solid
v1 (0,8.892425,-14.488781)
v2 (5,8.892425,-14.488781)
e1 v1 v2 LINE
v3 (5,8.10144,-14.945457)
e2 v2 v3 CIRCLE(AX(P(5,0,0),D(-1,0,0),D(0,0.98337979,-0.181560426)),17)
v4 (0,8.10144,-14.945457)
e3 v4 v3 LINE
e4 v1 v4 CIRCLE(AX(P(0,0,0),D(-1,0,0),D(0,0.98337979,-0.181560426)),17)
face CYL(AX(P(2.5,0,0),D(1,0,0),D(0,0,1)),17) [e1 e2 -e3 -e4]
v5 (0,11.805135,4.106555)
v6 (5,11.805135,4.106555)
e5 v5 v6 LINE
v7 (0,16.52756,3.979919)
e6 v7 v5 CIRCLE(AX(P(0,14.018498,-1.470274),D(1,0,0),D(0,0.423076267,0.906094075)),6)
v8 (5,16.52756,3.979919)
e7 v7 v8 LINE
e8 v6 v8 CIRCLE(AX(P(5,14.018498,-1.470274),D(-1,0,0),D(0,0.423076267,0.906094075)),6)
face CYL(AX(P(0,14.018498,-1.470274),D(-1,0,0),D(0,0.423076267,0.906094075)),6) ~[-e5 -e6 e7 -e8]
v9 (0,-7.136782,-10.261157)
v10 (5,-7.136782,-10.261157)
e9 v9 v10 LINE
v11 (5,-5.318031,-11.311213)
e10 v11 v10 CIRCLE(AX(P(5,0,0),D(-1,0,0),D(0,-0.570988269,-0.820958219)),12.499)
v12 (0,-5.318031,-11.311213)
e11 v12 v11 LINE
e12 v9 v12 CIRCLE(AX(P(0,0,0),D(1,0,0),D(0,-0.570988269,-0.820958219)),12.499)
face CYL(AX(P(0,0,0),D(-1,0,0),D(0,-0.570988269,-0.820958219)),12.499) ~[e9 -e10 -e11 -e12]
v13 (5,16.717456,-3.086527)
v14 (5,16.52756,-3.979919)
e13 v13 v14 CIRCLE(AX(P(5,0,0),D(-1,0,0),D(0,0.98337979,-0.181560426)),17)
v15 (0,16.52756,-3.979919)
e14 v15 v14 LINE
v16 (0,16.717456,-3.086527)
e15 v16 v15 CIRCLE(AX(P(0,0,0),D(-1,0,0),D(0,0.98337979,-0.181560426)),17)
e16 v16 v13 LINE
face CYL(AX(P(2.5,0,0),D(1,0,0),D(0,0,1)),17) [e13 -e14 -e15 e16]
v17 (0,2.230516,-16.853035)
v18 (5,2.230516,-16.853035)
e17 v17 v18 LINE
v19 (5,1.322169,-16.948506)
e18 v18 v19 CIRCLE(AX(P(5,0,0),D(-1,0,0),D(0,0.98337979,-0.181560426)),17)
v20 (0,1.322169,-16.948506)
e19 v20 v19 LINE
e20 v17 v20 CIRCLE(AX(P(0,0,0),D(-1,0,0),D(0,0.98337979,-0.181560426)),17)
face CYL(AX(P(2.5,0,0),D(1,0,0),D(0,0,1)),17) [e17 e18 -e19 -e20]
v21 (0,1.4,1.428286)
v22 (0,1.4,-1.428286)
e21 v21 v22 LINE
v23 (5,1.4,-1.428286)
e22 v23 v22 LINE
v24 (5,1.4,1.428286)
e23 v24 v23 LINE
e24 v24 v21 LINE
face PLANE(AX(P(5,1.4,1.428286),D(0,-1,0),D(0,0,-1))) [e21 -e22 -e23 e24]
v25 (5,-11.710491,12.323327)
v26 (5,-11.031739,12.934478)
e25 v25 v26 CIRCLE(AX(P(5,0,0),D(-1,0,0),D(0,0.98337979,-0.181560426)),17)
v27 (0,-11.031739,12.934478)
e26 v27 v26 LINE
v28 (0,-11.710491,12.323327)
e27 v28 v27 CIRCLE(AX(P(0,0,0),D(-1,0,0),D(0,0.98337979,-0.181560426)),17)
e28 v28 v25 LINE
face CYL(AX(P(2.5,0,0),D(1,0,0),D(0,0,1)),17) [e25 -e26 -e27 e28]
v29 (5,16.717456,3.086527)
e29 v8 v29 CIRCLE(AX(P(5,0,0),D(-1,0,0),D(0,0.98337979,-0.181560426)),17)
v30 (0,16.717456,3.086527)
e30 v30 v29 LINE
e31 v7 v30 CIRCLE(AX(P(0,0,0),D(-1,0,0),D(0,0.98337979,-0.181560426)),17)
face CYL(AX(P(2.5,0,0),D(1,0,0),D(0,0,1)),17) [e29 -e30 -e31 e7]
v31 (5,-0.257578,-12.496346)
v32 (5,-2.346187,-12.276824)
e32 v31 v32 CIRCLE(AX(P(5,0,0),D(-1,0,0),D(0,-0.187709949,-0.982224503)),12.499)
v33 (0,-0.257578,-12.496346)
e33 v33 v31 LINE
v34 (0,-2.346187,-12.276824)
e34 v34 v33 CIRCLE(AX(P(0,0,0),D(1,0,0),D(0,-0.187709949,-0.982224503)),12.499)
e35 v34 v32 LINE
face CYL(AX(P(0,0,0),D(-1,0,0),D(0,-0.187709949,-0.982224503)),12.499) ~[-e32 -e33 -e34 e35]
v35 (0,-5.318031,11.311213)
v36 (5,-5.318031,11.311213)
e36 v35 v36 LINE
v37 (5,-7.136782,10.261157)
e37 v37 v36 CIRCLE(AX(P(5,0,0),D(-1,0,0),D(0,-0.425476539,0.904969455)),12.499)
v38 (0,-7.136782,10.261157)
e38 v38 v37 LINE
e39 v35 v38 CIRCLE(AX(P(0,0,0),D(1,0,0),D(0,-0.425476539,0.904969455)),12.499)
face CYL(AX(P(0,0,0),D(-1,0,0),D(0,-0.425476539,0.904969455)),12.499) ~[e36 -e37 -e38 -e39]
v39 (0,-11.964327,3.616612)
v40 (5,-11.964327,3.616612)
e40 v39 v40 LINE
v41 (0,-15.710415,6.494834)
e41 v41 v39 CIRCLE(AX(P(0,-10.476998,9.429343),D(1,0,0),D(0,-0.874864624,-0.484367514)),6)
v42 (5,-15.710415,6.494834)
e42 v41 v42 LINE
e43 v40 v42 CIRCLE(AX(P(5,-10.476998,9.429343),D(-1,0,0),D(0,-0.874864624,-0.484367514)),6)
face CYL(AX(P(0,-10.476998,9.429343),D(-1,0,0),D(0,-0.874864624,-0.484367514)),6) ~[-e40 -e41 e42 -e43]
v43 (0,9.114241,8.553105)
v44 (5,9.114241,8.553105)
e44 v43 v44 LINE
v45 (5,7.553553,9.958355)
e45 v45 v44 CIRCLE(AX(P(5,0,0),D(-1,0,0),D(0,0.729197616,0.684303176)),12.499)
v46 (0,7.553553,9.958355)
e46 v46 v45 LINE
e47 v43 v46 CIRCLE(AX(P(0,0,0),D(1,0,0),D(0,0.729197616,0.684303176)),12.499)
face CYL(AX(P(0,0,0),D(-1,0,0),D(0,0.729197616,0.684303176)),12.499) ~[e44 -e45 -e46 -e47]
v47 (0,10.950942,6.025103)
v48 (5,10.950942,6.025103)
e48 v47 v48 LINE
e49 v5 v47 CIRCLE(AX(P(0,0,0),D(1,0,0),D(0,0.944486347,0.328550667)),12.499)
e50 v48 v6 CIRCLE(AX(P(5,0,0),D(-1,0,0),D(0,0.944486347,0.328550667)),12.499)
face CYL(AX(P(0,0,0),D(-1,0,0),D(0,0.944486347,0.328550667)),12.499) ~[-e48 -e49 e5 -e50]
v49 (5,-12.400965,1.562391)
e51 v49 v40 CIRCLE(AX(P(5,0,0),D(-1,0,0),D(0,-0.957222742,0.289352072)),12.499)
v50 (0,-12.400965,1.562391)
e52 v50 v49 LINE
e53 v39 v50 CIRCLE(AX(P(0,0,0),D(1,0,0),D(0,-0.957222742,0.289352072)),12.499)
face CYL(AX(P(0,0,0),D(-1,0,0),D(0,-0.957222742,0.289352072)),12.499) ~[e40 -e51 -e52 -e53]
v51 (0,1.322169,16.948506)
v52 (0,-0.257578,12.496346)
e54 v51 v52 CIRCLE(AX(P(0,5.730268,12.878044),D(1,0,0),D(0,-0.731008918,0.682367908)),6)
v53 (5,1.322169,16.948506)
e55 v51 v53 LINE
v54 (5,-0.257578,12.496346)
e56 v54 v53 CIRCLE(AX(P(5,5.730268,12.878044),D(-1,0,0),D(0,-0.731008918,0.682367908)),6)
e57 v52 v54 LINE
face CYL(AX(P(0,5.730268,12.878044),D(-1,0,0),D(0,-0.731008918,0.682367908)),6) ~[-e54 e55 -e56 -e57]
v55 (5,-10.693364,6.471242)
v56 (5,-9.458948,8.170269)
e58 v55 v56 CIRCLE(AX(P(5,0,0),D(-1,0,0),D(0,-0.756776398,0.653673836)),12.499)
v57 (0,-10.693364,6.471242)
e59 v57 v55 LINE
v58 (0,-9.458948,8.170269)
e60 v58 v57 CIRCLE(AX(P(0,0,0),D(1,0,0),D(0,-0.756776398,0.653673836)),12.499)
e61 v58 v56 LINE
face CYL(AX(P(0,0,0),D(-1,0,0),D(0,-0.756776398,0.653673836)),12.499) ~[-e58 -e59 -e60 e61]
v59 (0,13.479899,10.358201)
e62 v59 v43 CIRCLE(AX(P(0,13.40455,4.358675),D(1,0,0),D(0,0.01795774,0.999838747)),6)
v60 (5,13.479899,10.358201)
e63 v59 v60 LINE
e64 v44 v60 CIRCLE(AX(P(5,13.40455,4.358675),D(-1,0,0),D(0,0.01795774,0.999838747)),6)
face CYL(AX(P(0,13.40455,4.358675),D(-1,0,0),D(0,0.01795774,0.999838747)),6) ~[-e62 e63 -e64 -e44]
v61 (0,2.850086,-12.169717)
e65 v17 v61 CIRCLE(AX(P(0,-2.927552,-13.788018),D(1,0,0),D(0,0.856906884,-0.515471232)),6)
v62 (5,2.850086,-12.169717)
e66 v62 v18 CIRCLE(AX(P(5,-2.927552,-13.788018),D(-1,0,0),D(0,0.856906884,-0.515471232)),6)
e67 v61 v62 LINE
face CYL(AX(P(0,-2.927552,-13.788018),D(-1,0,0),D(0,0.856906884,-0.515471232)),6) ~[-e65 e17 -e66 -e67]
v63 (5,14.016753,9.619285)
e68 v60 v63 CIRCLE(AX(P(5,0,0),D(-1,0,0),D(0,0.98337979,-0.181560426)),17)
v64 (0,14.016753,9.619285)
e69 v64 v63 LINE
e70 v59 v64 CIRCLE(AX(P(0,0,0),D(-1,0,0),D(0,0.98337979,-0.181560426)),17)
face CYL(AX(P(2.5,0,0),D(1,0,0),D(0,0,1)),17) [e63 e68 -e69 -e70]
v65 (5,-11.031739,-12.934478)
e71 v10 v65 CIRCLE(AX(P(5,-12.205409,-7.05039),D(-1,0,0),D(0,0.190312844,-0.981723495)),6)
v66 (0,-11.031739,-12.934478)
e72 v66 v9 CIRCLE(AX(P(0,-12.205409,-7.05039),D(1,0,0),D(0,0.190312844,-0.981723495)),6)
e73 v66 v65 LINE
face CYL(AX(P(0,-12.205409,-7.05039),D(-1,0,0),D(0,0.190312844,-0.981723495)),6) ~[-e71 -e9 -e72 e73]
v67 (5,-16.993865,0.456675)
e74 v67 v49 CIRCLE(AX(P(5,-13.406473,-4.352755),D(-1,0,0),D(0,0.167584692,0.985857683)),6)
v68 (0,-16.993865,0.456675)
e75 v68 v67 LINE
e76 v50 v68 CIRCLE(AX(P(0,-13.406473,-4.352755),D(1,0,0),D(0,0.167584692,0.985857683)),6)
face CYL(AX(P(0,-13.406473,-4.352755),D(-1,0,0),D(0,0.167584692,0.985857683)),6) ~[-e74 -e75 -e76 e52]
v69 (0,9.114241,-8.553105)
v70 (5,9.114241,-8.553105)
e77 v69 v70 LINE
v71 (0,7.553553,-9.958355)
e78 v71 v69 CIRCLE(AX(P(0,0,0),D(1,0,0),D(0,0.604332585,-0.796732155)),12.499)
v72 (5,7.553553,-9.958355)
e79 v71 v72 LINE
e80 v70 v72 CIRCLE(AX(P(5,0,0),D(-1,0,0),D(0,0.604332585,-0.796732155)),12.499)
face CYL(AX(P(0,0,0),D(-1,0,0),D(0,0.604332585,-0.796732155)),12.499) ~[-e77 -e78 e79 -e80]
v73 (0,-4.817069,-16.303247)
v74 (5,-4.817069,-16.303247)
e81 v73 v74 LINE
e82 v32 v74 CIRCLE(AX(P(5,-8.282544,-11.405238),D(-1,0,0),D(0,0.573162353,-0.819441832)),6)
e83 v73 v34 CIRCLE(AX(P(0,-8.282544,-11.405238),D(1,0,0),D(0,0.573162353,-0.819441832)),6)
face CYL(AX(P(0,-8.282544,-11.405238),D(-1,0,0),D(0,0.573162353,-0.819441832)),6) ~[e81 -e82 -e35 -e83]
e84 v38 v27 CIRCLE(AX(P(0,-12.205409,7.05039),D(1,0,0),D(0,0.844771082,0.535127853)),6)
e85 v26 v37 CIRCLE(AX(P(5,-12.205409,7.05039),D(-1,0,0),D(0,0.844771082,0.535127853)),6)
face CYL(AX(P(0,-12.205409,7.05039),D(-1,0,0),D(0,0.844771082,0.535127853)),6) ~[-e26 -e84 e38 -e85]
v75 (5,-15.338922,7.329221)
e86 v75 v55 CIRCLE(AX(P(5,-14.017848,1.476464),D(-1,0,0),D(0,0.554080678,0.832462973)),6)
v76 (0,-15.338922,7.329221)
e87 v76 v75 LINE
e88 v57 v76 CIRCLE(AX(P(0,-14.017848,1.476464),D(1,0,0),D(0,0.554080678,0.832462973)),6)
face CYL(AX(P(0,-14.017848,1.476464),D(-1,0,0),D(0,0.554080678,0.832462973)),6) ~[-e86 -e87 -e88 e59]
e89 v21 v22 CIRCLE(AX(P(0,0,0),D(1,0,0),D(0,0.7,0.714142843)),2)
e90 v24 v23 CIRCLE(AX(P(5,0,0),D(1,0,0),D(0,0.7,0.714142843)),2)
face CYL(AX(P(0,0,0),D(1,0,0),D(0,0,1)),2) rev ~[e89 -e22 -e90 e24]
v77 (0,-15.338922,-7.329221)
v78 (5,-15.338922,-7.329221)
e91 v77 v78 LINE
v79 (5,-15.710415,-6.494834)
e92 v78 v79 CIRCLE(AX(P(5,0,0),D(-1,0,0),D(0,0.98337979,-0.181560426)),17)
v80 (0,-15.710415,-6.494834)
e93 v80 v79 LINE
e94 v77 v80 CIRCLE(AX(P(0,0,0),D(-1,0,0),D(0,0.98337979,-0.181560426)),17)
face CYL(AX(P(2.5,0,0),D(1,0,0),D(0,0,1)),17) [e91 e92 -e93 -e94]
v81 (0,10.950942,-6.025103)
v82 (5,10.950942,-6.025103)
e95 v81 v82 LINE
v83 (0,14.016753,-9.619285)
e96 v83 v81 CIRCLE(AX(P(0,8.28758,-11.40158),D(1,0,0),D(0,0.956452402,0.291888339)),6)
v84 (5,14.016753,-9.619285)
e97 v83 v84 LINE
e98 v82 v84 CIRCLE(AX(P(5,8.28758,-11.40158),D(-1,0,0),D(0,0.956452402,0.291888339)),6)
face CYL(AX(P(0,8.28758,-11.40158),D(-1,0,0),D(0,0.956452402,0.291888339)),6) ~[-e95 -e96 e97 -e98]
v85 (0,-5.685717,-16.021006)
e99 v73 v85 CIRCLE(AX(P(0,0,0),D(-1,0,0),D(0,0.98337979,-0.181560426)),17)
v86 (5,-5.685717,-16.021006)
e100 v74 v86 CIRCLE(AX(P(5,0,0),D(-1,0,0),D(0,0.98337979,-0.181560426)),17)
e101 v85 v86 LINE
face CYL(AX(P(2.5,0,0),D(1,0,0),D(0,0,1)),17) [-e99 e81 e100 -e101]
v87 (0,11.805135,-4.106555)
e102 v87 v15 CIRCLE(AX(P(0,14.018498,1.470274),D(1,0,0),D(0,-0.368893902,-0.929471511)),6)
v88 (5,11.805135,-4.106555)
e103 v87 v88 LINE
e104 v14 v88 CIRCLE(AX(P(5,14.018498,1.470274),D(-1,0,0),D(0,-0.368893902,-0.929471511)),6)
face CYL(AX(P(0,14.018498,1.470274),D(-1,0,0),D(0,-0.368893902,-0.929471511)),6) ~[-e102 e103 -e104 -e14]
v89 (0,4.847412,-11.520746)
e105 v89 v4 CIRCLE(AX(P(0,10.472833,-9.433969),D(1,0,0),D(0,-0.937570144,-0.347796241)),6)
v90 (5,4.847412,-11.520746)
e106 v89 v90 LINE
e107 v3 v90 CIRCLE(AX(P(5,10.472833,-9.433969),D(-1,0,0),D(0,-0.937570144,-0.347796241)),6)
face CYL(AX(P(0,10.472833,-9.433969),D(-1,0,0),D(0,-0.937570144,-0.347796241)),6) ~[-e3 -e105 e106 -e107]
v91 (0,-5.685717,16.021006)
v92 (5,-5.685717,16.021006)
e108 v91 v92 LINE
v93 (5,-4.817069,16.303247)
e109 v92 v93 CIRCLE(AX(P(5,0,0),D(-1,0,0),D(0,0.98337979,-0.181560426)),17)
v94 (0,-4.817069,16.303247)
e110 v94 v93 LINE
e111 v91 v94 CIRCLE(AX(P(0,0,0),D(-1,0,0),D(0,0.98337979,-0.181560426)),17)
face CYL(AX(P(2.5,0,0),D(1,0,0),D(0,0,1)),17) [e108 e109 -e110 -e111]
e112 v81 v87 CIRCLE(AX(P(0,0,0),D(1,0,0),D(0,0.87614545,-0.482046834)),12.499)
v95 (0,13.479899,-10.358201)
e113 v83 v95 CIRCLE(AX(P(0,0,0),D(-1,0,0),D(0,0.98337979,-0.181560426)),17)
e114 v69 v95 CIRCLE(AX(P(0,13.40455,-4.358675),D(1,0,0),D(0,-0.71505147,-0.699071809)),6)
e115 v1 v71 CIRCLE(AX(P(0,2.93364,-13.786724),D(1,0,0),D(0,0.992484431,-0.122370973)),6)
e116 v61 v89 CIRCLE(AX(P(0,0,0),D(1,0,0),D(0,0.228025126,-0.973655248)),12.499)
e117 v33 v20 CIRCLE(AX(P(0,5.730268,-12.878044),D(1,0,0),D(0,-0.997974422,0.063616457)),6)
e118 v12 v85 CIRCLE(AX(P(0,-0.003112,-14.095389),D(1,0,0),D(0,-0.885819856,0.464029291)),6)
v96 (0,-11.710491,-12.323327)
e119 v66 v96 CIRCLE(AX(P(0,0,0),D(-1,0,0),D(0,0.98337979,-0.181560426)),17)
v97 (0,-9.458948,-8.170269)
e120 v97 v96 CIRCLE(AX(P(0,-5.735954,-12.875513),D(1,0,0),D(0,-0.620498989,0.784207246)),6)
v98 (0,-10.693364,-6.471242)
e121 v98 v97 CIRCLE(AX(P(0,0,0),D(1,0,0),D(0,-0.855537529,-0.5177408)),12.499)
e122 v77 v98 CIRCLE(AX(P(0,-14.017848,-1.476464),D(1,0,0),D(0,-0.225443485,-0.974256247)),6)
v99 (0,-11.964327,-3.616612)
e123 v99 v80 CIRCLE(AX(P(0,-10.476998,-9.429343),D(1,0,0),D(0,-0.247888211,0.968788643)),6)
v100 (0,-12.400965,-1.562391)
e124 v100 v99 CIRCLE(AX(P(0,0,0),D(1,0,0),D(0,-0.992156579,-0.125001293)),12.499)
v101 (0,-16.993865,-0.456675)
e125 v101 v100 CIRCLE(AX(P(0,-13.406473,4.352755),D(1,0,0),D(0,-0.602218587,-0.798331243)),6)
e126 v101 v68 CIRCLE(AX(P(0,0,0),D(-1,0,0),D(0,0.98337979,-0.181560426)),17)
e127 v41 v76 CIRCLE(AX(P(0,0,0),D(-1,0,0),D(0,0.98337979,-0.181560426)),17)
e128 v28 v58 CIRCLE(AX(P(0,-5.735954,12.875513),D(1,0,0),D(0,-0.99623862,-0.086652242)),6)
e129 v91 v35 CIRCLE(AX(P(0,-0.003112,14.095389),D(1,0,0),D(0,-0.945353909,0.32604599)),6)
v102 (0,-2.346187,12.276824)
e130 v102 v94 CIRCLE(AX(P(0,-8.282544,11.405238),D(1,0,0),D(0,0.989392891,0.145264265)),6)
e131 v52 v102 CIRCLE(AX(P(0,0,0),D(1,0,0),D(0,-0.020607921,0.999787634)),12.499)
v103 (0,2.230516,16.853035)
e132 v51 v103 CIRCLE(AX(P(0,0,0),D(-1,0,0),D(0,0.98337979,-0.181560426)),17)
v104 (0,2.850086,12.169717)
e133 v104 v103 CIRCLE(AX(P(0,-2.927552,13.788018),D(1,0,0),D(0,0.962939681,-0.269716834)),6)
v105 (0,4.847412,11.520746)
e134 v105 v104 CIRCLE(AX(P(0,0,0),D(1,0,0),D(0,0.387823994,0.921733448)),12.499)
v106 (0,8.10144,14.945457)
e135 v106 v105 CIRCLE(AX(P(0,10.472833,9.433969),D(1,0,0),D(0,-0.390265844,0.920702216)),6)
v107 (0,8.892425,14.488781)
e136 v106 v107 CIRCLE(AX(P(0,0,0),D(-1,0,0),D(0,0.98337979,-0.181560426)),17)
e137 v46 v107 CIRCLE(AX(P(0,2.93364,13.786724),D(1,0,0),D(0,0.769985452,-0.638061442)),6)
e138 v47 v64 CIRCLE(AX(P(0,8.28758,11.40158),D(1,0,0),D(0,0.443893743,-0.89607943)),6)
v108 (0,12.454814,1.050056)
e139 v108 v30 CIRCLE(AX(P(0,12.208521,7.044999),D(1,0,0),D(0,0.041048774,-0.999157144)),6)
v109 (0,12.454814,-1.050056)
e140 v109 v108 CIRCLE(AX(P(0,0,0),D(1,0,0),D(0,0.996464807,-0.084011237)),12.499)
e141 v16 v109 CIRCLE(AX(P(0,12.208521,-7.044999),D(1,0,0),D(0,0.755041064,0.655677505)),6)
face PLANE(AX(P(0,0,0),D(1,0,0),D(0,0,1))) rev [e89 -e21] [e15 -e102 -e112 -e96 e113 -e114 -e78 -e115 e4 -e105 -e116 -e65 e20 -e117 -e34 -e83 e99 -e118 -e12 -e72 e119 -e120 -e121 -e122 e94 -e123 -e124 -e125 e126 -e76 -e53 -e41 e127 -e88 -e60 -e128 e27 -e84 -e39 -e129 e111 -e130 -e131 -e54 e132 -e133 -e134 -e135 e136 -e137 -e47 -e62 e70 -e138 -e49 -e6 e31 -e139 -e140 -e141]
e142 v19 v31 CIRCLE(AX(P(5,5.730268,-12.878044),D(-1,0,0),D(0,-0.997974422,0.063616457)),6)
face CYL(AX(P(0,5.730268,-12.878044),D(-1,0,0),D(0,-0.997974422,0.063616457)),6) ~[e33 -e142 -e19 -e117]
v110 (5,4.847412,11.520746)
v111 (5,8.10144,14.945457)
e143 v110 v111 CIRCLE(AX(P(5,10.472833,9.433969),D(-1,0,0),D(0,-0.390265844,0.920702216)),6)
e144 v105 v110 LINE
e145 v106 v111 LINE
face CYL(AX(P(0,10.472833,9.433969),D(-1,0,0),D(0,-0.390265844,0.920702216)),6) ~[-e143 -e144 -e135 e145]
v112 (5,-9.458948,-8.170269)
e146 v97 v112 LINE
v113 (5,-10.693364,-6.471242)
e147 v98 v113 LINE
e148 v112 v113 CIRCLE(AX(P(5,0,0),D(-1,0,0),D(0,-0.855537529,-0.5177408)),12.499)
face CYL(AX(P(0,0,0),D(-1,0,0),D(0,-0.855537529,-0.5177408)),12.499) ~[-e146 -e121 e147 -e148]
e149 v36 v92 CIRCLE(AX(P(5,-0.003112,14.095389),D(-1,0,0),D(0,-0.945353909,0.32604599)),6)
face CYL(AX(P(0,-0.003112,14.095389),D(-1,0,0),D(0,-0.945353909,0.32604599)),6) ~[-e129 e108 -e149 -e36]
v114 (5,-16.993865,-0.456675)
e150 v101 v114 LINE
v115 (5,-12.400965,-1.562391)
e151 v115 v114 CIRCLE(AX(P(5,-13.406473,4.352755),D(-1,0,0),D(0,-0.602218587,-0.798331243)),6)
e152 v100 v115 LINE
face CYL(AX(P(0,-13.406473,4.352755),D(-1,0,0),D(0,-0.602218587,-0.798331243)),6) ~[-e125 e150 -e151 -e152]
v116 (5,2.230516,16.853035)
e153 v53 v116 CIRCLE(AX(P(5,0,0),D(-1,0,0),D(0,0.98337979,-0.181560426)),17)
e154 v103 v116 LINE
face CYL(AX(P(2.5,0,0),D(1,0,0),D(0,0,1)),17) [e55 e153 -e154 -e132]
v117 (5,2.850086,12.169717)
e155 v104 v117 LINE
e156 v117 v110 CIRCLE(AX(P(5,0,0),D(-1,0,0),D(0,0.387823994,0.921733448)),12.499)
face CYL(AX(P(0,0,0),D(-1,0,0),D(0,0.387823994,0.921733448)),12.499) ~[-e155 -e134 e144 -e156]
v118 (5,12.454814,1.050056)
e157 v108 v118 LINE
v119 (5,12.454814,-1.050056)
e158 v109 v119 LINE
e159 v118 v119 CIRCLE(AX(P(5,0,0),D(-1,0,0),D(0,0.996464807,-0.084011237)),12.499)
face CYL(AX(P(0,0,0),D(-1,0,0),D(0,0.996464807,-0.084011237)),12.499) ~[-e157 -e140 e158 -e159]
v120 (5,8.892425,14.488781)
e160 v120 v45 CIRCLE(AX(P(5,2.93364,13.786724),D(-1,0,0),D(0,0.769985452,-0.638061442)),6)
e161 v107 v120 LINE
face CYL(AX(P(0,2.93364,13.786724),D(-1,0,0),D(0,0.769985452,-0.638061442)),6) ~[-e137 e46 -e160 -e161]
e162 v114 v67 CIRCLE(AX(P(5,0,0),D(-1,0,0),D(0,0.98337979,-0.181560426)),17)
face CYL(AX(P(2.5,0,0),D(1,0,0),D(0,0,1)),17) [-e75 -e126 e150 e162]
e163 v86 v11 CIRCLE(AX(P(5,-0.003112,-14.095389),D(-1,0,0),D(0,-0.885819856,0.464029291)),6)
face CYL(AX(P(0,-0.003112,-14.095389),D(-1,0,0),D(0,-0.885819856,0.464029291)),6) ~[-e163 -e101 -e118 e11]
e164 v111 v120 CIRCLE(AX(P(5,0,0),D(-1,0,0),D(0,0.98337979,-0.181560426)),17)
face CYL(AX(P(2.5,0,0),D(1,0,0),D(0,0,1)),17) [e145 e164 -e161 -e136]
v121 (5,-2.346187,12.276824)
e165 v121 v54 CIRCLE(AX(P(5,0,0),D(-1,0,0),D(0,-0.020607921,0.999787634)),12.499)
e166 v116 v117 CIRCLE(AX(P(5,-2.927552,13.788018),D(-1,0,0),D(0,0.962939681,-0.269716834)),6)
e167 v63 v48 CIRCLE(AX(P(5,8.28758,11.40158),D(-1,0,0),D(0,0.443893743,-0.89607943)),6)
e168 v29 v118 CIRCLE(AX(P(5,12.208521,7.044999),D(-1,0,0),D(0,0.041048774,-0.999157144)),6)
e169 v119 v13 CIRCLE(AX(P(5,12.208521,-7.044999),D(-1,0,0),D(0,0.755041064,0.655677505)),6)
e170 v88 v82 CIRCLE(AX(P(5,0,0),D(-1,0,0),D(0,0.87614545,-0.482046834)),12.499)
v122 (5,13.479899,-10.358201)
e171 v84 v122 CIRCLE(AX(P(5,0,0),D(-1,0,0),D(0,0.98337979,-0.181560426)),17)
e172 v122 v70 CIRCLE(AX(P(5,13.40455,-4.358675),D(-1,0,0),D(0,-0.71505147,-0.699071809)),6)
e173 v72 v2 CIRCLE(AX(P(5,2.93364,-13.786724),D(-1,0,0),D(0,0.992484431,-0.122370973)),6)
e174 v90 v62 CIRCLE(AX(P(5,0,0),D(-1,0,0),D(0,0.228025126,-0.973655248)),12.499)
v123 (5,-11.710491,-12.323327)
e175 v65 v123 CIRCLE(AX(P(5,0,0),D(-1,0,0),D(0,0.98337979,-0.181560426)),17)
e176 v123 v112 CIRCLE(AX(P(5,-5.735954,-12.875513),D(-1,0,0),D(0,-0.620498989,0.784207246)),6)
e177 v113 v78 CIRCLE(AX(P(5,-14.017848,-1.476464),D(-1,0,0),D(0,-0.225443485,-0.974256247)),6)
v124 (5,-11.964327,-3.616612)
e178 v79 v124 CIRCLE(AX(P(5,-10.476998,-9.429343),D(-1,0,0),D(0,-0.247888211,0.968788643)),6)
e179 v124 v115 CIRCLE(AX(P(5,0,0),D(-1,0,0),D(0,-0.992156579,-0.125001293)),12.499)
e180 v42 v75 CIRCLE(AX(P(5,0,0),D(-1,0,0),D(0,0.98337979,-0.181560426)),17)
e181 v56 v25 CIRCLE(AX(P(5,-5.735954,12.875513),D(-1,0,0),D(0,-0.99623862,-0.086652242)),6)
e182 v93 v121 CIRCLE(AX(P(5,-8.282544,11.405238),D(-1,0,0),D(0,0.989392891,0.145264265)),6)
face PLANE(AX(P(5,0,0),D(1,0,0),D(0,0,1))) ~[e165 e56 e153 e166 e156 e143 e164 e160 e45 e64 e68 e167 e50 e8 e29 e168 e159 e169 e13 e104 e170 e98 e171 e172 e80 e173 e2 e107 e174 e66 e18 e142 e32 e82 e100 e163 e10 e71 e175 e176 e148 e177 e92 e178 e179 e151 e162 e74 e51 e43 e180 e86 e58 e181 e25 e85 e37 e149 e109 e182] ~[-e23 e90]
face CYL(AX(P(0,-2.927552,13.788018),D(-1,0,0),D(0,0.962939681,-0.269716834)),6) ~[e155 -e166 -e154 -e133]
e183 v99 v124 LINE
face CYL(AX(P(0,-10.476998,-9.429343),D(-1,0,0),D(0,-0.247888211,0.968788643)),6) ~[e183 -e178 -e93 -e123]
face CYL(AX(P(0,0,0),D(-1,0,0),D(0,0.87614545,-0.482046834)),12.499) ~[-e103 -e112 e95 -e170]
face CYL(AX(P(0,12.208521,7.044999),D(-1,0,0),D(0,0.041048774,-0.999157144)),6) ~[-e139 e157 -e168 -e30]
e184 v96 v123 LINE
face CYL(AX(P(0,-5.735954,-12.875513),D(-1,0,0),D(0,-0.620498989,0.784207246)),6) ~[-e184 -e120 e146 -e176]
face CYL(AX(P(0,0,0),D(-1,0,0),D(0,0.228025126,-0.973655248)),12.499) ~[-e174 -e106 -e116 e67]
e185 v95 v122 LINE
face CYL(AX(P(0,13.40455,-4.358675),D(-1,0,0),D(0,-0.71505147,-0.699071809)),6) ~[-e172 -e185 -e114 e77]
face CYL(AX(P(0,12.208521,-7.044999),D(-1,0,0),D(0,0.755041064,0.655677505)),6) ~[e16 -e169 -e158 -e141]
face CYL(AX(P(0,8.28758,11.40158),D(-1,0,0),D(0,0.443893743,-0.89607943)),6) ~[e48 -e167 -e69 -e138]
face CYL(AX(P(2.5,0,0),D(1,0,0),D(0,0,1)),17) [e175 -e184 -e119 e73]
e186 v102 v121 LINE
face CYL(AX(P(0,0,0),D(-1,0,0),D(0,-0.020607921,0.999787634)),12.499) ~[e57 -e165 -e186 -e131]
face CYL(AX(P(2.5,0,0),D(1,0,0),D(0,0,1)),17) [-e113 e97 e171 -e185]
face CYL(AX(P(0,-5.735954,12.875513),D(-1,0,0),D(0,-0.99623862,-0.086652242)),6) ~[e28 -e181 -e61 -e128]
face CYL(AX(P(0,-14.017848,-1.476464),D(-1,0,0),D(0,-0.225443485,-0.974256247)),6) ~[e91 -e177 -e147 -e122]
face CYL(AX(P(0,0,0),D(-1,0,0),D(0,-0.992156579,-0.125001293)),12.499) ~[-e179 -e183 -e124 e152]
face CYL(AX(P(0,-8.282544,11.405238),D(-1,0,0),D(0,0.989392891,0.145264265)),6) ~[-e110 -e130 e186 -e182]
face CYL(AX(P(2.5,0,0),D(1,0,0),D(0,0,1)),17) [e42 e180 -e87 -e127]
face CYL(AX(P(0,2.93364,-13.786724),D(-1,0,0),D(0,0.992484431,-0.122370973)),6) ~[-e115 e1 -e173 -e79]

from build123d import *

# Parameters (mm, degrees)
BASPROSKE_W         = 5
BASPROSKE_H         = 17
TOOTHCUT_DEPTH      = 25.556058316
TEETHCUTS_COUNT     = 15
TEETHCUTS_ANGLE     = 336
BORSKE_R            = 2
BORE_DEPTH          = 50.0000508
BOSS_EXTRUDE1_DEPTH = 5


with BuildPart() as part:
    # BasProSke → Base-Revolve (revolve)
    with BuildSketch(Plane(origin=(0, 0, 0), x_dir=(1, 0, 0), z_dir=(0, 1, 0)), mode=Mode.PRIVATE) as base_revolve_sk:
        with Locations((2.5, 8.5)):
            Rectangle(BASPROSKE_W, BASPROSKE_H)
    revolve(base_revolve_sk.sketch.rotate(Axis((-10, 0, 0), (1, 0, 0)), 180), axis=Axis((-10, 0, 0), (1, 0, 0)))

    # TooCutSke → ToothCut (cut, through all)
    with BuildSketch(Plane(origin=(0, 0, 0), x_dir=(0, 0, -1), z_dir=(1, 0, 0))):
        with BuildLine():
            ThreePointArc((1.050056448, 12.454813626), (0, 12.499), (-1.050056448, 12.454813626))
            ThreePointArc((-1.050056448, 12.454813626), (-1.638118106, 14.809604533), (-3.110934279, 16.73876737))
            ThreePointArc((-3.110934279, 16.73876737), (0, 17.0254), (3.110934279, 16.73876737))
            ThreePointArc((3.110934279, 16.73876737), (1.638118106, 14.809604533), (1.050056448, 12.454813626))
        make_face()
    toothcut = extrude(amount=TOOTHCUT_DEPTH, mode=Mode.SUBTRACT)

    # TeethCuts: ToothCut ×15 about axis
    teethcuts_axis = Axis((-10, 0, 0), (1, 0, 0))
    for i in range(1, TEETHCUTS_COUNT):
        add(toothcut.rotate(teethcuts_axis, i * TEETHCUTS_ANGLE / (TEETHCUTS_COUNT - 1)), mode=Mode.SUBTRACT)

    # BorSke → Bore (cut, symmetric)
    with BuildSketch(Plane(origin=(0, 0, 0), x_dir=(0, 0, -1), z_dir=(1, 0, 0))):
        with Locations(Location((0, 0, 0), (0, 0, 180))):
            Circle(BORSKE_R)
    extrude(amount=BORE_DEPTH, both=True, mode=Mode.SUBTRACT)

    # Sketch1 → Boss-Extrude1 (add)
    with BuildSketch(Plane(origin=(5, 0, 0), x_dir=(0, 0, -1), z_dir=(1, 0, 0))):
        with BuildLine():
            Line((-1.428285686, 1.4), (1.428285686, 1.4))
            ThreePointArc((1.428285686, 1.4), (0, 2), (-1.428285686, 1.4))
        make_face()
    extrude(amount=-BOSS_EXTRUDE1_DEPTH)


solid = part.part
